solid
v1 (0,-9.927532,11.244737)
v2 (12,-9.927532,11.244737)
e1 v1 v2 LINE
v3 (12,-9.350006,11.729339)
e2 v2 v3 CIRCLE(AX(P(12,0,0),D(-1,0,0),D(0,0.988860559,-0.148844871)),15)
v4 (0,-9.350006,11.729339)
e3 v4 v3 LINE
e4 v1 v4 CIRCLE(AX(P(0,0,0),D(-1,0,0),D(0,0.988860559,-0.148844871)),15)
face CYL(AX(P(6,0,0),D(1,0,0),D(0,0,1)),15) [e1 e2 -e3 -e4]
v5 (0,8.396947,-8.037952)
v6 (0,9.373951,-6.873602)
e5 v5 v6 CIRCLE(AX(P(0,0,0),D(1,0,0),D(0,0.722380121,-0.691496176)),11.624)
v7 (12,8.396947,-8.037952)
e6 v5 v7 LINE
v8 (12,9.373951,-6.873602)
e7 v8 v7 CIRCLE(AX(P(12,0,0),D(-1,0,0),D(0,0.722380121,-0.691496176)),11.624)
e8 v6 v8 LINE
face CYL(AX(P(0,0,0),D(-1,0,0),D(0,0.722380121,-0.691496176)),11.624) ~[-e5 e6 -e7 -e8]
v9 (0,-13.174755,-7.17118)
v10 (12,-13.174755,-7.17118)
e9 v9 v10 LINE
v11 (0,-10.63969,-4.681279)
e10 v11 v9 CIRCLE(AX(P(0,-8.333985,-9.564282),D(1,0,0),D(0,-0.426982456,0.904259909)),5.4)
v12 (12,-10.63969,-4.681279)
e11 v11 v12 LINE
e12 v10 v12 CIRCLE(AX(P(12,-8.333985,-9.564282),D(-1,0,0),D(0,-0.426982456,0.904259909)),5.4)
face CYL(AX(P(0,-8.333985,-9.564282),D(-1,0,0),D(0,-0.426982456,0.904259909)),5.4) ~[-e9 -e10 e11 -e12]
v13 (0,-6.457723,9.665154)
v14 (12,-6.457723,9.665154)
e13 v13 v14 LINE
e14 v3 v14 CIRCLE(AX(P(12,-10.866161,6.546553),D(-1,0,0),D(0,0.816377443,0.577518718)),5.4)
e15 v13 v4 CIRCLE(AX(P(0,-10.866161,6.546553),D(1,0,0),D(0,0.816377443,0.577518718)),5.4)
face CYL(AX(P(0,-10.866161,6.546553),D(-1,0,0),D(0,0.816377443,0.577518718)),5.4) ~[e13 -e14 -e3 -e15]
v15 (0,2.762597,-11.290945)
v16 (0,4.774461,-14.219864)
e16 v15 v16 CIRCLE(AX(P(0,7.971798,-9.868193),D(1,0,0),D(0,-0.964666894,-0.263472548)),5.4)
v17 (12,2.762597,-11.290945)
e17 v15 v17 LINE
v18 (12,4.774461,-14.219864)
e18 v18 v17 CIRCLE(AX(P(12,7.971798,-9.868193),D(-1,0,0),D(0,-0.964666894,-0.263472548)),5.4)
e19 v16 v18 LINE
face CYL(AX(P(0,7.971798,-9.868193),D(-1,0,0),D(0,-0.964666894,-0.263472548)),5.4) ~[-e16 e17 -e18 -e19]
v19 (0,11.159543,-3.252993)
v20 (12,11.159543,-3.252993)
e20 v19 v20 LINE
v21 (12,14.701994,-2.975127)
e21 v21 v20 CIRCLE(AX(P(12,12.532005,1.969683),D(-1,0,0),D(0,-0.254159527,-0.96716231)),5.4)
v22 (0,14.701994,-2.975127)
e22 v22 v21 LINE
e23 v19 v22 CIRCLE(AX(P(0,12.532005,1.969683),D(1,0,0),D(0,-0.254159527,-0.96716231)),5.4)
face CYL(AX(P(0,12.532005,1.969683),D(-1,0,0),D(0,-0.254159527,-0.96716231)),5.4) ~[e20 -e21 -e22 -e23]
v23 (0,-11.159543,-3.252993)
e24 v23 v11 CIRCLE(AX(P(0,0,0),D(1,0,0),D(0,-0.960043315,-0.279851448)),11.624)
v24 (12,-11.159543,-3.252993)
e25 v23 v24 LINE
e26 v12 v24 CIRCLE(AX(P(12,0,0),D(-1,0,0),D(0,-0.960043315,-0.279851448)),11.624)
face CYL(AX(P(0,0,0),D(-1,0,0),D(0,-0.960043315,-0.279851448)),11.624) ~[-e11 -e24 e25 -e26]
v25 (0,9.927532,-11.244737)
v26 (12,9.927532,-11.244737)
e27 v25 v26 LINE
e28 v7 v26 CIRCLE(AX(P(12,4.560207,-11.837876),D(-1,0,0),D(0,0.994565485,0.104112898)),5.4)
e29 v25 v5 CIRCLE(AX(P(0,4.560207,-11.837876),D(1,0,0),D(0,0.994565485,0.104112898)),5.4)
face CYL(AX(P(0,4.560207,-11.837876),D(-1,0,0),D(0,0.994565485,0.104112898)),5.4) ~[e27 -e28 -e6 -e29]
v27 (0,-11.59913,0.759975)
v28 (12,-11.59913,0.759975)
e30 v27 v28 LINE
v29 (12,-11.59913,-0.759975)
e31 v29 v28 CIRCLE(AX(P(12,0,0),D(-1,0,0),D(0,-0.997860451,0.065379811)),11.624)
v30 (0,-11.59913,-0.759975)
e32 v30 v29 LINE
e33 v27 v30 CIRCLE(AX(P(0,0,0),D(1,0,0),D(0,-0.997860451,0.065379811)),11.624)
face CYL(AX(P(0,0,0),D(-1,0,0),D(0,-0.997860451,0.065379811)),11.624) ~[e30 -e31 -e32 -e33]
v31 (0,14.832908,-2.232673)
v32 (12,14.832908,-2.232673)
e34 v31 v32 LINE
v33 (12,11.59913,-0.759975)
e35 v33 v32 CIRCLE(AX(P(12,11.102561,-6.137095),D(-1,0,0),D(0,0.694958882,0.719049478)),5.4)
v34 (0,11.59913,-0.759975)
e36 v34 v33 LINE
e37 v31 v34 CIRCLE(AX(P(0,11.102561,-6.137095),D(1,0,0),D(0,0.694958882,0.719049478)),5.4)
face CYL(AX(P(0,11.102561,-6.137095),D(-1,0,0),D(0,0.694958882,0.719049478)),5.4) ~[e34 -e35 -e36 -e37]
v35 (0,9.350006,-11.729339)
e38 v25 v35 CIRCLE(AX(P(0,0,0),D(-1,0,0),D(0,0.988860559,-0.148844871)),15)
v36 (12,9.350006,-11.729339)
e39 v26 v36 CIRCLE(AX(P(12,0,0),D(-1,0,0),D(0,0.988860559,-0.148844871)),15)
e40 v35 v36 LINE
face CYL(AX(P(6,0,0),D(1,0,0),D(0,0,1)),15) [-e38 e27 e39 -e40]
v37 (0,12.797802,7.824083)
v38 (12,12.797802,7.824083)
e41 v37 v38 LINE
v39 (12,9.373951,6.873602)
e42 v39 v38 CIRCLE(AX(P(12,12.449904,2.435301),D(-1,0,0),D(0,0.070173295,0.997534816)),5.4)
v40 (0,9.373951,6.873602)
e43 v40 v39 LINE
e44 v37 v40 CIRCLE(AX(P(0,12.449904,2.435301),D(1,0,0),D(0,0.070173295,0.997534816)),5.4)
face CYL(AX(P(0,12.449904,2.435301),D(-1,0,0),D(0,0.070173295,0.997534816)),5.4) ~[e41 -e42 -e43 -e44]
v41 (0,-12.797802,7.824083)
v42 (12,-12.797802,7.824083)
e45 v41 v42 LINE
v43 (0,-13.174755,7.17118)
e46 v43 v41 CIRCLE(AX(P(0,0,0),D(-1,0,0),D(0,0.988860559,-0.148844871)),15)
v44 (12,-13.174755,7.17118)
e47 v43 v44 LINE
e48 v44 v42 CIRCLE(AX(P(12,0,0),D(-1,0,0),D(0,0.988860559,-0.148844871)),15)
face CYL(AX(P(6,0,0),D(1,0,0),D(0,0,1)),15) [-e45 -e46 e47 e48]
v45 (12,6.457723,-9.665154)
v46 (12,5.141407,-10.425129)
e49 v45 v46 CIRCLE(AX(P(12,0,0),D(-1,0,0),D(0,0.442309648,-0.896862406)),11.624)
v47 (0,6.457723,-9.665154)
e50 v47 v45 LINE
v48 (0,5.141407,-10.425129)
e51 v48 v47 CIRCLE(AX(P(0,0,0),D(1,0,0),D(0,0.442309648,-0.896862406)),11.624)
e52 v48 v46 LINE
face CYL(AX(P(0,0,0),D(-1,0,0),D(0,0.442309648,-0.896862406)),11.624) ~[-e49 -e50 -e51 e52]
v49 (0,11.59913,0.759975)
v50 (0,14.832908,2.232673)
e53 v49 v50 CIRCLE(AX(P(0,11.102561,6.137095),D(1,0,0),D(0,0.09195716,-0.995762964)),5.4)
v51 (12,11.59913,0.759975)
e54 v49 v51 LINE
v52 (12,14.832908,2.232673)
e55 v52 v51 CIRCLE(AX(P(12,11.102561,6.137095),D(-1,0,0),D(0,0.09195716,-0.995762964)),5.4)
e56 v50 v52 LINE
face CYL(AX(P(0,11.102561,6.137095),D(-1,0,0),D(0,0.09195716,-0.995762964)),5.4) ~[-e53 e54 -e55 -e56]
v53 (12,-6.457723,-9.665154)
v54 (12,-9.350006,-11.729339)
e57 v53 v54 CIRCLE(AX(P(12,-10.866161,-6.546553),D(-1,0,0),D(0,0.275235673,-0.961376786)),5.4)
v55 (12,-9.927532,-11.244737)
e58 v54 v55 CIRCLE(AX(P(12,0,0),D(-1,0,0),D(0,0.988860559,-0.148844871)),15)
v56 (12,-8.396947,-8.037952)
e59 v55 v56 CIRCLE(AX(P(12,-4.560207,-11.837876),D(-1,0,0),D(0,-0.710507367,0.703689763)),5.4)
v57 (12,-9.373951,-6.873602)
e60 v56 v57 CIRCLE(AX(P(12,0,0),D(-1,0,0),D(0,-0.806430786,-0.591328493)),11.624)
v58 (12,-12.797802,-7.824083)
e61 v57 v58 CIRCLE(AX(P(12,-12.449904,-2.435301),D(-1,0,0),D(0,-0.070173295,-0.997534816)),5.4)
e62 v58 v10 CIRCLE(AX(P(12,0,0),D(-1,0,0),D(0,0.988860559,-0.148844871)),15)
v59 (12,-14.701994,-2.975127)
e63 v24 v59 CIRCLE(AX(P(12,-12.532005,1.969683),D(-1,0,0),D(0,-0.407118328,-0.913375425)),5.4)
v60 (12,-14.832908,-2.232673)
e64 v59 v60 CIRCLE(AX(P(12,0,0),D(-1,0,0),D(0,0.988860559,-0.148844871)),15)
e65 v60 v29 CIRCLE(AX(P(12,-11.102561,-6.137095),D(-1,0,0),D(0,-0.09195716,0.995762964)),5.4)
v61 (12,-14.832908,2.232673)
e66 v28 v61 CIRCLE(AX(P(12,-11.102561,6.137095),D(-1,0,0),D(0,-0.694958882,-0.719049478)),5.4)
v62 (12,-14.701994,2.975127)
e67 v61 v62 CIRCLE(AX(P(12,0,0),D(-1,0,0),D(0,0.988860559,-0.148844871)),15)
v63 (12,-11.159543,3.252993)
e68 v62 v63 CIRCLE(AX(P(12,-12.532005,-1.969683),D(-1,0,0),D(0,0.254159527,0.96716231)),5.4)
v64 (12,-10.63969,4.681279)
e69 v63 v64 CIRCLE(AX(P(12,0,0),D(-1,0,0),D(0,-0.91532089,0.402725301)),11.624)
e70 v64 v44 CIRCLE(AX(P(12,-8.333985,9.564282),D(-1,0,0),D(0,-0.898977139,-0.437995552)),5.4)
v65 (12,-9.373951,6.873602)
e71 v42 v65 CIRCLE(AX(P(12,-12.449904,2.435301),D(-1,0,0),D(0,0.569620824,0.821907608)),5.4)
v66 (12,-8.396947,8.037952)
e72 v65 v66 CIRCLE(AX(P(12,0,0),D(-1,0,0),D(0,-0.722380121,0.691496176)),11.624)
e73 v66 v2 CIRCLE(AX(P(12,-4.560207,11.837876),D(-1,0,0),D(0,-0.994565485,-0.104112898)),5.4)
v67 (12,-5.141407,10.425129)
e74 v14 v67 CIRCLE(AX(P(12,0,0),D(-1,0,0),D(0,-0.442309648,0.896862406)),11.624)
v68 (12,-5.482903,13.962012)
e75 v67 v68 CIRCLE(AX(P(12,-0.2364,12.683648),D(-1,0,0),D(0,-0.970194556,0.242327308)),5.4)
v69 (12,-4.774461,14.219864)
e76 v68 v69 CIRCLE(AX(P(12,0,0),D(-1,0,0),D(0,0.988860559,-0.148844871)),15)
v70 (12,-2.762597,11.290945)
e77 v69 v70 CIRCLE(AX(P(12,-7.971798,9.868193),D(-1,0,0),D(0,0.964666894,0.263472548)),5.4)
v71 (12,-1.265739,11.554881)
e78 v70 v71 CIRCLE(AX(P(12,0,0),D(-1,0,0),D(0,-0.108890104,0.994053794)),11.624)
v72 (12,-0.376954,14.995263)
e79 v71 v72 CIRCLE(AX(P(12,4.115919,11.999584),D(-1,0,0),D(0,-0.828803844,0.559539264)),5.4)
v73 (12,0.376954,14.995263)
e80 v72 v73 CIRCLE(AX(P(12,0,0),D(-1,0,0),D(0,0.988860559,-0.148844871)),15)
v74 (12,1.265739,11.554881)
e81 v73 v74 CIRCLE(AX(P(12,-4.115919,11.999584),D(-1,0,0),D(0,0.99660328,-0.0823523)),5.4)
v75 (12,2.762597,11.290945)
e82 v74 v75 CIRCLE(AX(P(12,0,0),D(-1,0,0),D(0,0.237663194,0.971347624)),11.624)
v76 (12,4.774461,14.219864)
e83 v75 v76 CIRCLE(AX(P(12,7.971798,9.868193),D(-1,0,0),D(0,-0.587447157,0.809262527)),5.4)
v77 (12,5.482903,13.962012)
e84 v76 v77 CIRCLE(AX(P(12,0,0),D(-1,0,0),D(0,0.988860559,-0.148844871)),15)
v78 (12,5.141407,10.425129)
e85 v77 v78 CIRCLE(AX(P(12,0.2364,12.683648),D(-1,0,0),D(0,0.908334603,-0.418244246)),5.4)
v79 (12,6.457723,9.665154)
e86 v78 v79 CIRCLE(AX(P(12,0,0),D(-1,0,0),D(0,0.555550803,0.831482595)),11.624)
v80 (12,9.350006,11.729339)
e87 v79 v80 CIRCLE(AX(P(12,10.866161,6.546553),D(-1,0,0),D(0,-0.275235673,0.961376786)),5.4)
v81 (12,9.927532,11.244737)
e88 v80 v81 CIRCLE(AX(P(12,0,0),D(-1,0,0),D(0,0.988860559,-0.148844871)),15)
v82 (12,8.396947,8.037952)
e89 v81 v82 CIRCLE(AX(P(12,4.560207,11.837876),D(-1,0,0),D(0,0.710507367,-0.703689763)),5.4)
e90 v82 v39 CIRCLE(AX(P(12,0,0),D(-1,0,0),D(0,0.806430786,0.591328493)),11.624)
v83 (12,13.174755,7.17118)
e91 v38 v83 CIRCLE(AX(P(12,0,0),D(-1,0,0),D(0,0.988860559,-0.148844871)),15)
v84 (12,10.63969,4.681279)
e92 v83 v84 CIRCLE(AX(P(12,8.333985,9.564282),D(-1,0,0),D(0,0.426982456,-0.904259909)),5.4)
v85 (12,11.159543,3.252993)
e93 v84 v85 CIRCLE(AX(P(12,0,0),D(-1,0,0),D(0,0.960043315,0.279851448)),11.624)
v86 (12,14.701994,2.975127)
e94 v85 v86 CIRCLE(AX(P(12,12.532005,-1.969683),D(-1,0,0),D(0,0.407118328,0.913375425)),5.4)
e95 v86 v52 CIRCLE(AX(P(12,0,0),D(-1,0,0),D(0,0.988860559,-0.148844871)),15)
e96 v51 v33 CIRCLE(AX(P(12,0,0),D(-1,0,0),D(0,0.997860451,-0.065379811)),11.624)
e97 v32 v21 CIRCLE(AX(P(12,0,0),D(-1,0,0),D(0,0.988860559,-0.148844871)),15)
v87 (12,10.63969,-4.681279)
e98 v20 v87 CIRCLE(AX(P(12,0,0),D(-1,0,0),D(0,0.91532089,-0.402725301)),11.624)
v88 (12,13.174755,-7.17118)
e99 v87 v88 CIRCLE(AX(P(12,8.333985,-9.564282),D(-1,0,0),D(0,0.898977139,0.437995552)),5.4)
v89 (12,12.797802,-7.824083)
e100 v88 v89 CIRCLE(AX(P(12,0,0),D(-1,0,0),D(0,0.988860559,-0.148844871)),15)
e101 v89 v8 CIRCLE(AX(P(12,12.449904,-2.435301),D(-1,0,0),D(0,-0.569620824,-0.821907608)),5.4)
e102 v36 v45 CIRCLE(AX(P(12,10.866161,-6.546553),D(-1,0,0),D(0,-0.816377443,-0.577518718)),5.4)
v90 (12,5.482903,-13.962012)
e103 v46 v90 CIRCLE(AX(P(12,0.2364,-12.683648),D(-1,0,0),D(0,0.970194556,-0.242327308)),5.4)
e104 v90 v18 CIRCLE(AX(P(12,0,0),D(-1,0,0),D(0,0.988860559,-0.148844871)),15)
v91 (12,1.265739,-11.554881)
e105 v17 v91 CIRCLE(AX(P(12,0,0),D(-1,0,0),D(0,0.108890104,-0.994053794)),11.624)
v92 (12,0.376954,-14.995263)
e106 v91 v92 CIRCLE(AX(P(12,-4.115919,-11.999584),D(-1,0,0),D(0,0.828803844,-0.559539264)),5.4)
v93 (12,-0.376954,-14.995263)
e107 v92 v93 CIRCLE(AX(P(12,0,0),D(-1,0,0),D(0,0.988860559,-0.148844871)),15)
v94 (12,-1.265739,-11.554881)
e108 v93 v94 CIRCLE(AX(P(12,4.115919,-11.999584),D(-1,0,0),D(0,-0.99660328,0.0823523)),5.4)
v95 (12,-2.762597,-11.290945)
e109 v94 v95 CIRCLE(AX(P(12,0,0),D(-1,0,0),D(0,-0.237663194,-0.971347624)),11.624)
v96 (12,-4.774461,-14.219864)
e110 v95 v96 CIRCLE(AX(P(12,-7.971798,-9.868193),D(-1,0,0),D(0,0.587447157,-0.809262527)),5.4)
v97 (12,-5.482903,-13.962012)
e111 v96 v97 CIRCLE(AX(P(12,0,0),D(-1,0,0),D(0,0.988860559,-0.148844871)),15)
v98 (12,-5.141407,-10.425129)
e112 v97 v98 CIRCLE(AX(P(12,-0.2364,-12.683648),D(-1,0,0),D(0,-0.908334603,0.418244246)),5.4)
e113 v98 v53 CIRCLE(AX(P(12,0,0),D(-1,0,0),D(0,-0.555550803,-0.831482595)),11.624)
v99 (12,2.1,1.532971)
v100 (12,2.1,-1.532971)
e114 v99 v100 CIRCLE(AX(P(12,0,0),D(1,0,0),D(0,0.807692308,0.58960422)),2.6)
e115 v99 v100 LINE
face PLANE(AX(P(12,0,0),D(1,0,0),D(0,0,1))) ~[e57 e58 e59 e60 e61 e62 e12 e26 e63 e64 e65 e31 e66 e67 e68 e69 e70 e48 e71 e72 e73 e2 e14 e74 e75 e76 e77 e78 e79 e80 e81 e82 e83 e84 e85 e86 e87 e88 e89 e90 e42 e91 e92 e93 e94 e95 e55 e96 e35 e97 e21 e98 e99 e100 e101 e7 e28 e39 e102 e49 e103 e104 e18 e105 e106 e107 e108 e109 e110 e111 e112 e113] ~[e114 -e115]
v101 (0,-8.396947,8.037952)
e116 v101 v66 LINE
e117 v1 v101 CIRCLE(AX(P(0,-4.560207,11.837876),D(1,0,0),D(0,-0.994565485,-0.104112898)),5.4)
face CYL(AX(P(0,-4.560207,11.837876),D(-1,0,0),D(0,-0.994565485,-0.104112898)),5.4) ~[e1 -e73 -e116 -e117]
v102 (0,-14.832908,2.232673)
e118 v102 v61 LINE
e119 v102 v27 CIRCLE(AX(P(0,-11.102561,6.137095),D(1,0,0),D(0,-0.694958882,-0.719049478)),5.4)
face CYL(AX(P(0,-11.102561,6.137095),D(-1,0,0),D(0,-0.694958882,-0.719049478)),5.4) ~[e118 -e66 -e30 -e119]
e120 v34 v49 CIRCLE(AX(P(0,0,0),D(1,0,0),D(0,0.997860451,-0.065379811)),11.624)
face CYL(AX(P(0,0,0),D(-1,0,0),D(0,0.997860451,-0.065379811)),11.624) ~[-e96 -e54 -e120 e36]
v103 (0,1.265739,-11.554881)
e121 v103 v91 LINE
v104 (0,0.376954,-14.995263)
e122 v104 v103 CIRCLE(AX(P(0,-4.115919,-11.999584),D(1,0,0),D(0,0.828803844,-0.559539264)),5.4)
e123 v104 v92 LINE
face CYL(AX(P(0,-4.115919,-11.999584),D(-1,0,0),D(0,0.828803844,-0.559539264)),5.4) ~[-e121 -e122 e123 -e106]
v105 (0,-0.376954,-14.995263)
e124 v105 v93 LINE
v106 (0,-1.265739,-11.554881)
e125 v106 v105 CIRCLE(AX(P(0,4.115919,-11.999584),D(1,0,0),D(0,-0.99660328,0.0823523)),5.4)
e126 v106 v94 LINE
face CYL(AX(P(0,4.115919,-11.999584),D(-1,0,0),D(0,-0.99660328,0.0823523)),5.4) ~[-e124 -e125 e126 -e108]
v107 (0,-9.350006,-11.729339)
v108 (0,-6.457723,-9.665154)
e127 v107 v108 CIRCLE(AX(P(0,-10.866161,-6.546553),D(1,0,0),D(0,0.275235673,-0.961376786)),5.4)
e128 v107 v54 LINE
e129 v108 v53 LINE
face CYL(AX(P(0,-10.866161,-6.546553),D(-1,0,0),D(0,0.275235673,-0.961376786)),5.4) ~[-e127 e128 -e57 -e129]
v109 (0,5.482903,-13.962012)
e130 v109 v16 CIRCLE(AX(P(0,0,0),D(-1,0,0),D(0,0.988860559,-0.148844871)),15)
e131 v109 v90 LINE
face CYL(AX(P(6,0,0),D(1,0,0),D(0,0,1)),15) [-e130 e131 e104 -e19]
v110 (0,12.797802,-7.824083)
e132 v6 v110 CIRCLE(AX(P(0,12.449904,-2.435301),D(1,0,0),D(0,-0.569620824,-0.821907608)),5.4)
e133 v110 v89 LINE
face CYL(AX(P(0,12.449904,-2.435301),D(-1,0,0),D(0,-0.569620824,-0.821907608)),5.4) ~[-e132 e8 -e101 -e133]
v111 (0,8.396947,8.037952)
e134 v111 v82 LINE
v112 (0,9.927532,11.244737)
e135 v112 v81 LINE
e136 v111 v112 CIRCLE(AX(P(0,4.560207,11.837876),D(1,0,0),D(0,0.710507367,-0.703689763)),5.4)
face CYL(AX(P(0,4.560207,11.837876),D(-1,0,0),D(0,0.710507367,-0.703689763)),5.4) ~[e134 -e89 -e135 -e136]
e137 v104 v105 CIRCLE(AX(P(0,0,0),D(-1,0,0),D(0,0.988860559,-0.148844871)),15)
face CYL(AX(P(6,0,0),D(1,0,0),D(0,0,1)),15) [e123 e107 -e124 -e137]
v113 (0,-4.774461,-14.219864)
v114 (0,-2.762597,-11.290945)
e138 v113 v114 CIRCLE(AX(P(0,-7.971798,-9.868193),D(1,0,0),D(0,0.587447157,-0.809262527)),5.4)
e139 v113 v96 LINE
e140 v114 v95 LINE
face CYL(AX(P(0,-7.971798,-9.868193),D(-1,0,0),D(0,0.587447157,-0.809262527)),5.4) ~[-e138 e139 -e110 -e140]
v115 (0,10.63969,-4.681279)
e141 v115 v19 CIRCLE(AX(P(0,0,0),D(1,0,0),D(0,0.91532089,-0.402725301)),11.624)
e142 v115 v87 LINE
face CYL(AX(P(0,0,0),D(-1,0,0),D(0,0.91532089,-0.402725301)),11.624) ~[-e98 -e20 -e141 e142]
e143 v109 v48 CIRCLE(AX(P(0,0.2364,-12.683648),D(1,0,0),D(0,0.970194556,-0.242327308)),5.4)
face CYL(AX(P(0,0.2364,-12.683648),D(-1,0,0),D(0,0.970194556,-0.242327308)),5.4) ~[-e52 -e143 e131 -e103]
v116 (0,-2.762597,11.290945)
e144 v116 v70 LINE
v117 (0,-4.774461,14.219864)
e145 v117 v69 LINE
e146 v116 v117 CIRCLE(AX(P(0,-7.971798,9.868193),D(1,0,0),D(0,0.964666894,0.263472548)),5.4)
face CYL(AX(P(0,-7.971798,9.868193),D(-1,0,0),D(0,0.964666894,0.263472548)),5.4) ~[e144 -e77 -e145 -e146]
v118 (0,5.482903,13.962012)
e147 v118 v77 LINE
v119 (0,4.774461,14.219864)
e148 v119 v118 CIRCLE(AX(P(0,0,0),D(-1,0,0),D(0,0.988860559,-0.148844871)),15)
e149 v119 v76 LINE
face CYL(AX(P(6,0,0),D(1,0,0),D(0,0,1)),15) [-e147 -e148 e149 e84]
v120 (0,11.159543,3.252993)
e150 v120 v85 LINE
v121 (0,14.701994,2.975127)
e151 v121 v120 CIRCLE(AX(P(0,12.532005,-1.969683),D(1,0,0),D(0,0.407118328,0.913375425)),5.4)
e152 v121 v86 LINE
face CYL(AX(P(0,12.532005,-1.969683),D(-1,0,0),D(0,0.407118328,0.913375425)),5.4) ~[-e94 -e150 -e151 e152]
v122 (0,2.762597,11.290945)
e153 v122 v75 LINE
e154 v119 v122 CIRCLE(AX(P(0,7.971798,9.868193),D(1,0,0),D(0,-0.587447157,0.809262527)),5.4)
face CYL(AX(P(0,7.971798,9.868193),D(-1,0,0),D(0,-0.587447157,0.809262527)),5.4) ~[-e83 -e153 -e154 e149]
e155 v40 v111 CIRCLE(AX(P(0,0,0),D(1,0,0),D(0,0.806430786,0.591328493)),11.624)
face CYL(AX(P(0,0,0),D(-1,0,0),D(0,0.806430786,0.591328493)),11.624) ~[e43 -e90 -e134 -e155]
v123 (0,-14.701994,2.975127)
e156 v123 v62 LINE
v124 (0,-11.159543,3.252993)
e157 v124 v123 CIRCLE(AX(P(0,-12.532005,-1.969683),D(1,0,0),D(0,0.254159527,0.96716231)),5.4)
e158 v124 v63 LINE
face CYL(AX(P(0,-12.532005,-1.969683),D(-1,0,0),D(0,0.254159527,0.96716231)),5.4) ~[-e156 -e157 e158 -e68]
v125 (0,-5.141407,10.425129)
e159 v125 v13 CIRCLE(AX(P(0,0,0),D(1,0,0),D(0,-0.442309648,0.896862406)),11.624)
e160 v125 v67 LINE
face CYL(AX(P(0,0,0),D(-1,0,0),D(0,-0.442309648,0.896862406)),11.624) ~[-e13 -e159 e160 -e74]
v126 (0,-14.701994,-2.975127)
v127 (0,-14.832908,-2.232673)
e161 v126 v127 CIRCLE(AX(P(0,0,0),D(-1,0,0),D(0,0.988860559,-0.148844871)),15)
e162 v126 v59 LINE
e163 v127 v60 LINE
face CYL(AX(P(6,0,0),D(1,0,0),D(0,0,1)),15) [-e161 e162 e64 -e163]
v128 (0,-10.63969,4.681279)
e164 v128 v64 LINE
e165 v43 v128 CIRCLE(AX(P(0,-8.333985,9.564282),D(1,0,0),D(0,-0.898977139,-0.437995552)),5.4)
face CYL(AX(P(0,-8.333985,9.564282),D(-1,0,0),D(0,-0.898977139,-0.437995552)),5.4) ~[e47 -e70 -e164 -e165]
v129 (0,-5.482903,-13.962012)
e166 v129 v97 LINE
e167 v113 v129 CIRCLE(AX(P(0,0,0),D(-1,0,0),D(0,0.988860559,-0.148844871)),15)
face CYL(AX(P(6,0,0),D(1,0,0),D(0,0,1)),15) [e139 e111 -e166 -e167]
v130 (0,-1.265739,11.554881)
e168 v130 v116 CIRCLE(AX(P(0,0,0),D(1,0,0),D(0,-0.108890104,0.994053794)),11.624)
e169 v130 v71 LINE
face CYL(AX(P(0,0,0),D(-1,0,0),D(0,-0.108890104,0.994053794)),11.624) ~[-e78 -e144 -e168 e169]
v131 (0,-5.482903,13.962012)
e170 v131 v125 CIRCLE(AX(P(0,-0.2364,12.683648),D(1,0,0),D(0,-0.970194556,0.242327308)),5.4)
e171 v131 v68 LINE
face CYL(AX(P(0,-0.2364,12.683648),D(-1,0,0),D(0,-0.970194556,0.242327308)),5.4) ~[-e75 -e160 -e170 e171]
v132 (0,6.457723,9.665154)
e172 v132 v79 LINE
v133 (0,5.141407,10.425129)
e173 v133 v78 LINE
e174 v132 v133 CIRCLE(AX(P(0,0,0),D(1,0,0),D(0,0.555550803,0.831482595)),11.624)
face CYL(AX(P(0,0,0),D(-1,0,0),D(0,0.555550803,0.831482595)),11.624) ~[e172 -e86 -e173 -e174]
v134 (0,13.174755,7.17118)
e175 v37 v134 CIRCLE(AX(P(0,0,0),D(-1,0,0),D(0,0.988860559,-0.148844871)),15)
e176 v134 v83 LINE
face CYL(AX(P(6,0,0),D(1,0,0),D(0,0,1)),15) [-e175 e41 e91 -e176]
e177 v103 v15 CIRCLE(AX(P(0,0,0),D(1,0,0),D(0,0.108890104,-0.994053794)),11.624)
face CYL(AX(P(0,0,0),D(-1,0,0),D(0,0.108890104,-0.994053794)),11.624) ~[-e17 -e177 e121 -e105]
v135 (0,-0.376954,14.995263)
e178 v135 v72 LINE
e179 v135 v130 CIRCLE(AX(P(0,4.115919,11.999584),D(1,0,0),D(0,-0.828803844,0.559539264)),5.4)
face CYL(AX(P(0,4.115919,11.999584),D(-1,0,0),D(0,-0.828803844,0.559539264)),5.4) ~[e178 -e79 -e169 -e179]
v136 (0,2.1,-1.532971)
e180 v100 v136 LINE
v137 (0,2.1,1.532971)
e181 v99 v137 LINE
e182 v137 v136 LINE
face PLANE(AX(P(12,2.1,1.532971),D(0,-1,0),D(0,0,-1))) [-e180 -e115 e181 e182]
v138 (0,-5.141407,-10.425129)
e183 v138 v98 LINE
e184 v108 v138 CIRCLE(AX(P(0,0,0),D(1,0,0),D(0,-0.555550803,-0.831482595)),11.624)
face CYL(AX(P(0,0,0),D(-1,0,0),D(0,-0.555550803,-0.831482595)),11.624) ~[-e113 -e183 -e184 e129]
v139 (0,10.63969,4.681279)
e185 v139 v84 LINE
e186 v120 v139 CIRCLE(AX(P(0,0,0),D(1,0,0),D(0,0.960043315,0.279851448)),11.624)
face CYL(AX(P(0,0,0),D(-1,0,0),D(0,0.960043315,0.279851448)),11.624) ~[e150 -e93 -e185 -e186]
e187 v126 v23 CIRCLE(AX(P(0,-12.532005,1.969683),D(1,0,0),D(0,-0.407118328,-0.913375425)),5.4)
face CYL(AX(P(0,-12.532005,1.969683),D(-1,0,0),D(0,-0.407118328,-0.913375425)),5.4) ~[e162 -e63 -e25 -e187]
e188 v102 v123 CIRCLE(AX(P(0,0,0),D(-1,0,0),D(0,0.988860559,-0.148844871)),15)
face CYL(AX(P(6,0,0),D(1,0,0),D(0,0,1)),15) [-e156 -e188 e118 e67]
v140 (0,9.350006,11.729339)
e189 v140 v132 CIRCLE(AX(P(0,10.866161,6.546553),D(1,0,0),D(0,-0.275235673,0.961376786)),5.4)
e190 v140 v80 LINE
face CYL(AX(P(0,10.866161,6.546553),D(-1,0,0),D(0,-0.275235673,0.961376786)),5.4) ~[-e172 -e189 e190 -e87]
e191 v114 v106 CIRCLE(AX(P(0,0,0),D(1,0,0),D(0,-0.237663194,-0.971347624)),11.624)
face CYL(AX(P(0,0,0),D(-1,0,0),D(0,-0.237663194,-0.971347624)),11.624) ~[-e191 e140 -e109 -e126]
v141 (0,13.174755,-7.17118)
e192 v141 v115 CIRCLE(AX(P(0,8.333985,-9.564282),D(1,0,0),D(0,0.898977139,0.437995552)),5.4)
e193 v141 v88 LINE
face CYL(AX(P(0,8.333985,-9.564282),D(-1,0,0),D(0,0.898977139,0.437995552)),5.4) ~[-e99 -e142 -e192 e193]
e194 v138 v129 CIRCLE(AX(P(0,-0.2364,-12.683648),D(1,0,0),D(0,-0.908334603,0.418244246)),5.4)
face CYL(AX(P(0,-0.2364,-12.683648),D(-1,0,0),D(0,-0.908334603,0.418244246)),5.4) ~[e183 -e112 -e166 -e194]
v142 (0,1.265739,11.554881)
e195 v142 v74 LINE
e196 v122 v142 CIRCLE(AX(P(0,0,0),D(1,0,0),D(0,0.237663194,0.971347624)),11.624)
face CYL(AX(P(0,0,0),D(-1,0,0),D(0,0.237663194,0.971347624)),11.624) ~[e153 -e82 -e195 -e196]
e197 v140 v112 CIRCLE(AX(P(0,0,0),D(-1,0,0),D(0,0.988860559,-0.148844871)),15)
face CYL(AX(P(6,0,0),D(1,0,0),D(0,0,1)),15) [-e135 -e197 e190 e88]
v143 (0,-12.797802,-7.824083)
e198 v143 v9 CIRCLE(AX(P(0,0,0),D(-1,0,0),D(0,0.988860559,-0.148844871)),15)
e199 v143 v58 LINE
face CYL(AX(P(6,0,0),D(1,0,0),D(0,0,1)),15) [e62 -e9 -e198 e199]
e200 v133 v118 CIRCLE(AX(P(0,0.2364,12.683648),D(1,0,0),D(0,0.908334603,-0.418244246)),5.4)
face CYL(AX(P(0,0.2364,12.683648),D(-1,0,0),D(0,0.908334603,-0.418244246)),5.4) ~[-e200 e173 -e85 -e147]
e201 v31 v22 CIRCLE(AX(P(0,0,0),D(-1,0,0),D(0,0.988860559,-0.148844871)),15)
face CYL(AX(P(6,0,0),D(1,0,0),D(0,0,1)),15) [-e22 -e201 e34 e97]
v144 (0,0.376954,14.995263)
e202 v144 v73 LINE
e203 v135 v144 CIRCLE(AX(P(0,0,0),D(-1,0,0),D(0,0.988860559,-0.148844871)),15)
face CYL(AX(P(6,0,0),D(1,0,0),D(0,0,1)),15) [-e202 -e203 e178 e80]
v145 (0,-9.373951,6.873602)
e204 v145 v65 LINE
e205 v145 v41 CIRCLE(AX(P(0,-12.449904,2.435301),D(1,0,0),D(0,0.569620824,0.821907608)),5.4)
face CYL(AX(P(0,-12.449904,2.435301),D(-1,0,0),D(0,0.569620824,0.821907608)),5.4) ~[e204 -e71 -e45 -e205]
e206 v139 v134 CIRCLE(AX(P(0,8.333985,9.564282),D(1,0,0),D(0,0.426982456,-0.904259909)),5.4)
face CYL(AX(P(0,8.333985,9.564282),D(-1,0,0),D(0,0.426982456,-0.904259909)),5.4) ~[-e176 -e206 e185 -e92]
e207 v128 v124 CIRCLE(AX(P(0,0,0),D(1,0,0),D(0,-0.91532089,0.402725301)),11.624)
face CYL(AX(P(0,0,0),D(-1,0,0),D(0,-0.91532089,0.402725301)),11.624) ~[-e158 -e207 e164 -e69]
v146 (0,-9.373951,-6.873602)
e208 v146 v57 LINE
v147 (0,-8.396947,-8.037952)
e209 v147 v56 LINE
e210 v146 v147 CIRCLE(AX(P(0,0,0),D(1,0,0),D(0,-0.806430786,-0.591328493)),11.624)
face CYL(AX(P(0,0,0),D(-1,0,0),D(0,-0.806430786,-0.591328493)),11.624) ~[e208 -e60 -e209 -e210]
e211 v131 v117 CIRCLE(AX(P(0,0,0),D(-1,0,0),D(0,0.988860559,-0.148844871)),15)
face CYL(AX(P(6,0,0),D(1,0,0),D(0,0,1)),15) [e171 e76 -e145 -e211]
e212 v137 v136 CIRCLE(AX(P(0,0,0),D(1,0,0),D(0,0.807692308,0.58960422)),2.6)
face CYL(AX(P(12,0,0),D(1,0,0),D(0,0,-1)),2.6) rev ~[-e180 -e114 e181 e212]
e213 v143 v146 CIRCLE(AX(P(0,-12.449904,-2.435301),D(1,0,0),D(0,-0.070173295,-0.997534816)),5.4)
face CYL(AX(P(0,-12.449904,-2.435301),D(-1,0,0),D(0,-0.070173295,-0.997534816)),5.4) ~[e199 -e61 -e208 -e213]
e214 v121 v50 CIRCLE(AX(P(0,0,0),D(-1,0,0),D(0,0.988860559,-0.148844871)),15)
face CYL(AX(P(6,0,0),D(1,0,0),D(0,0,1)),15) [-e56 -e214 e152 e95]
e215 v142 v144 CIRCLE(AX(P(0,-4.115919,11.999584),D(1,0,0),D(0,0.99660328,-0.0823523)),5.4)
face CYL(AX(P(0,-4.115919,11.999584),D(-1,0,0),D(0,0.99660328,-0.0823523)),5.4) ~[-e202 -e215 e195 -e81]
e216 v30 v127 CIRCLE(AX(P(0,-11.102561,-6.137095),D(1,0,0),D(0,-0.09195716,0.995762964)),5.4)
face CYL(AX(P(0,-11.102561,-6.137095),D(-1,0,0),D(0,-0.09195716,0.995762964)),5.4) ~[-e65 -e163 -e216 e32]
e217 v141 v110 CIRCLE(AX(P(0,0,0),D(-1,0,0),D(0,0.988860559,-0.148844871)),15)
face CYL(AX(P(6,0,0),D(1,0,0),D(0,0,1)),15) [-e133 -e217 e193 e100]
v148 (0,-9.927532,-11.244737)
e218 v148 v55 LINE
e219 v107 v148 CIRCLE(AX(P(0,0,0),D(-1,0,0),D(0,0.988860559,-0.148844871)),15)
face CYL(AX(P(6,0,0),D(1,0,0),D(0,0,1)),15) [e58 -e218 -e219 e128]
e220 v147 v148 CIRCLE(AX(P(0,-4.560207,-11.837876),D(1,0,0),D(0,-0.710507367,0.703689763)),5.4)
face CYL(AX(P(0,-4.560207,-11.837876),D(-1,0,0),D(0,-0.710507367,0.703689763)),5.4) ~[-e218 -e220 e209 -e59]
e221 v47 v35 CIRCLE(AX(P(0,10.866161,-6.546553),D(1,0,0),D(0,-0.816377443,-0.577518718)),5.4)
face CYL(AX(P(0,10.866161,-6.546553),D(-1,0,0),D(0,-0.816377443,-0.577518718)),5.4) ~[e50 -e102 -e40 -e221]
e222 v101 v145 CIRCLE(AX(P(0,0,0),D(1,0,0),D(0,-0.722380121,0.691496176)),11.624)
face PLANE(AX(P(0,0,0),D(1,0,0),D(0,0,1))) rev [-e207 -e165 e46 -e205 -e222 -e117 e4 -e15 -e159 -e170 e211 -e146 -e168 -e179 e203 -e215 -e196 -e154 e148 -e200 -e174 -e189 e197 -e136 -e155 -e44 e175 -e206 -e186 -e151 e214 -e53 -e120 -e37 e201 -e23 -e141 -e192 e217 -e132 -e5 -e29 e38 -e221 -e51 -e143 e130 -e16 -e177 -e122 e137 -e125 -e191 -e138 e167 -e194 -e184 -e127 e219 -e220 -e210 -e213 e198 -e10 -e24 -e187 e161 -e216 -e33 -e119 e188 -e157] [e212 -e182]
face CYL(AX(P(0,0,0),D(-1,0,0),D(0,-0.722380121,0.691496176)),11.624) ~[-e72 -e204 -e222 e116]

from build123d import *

# Parameters (mm, degrees)
BASPROSKE_W         = 12
BASPROSKE_H         = 15
TOOTHCUT_DEPTH      = 25.372115214
TEETHCUTS_COUNT     = 18
TEETHCUTS_ANGLE     = 340
BORSKE_R            = 2.5
BORE_DEPTH          = 50.0000508
SKETCH_1_R          = 2.6
CUT_EXTRUDE_1_DEPTH = 25.269634752
EXTRUDE_2_DEPTH     = 12


with BuildPart() as part:
    # BasProSke → Base-Revolve (revolve)
    with BuildSketch(Plane(origin=(0, 0, 0), x_dir=(1, 0, 0), z_dir=(0, 1, 0)), mode=Mode.PRIVATE) as base_revolve_sk:
        with Locations((6, 7.5)):
            Rectangle(BASPROSKE_W, BASPROSKE_H)
    revolve(base_revolve_sk.sketch.rotate(Axis((-10, 0, 0), (1, 0, 0)), 180), axis=Axis((-10, 0, 0), (1, 0, 0)))

    # TooCutSke → ToothCut (cut, through all)
    with BuildSketch(Plane(origin=(0, 0, 0), x_dir=(0, 0, -1), z_dir=(1, 0, 0))):
        with BuildLine():
            ThreePointArc((0.759974923, 11.599129886), (0, 11.624), (-0.759974923, 11.599129886))
            ThreePointArc((-0.759974923, 11.599129886), (-1.229186471, 13.354767823), (-2.254227748, 14.855339189))
            ThreePointArc((-2.254227748, 14.855339189), (0, 15.0254), (2.254227748, 14.855339189))
            ThreePointArc((2.254227748, 14.855339189), (1.229186471, 13.354767823), (0.759974923, 11.599129886))
        make_face()
    toothcut = extrude(amount=TOOTHCUT_DEPTH, mode=Mode.SUBTRACT)

    # TeethCuts: ToothCut ×18 about axis
    teethcuts_axis = Axis((-10, 0, 0), (1, 0, 0))
    for i in range(1, TEETHCUTS_COUNT):
        add(toothcut.rotate(teethcuts_axis, i * TEETHCUTS_ANGLE / (TEETHCUTS_COUNT - 1)), mode=Mode.SUBTRACT)

    # BorSke → Bore (cut, symmetric)
    with BuildSketch(Plane(origin=(0, 0, 0), x_dir=(0, 0, -1), z_dir=(1, 0, 0))):
        with Locations(Location((0, 0, 0), (0, 0, 180))):
            Circle(BORSKE_R)
    extrude(amount=BORE_DEPTH, both=True, mode=Mode.SUBTRACT)

    # 草圖1 → 除料-伸長1 (cut, through all)
    with BuildSketch(Plane(origin=(12, 0, 0), x_dir=(0, 0, -1), z_dir=(1, 0, 0))):
        Circle(SKETCH_1_R)
    extrude(amount=-CUT_EXTRUDE_1_DEPTH, mode=Mode.SUBTRACT)

    # 草圖2 → 填料-伸長2 (add, through all)
    with BuildSketch(Plane(origin=(12, 0, 0), x_dir=(0, 0, -1), z_dir=(1, 0, 0))):
        with BuildLine():
            Line((0, 2.1), (1.532970972, 2.1))
            ThreePointArc((1.532970972, 2.1), (0, 2.6), (-1.532970972, 2.1))
            Line((-1.532970972, 2.1), (0, 2.1))
        make_face()
    extrude(amount=-EXTRUDE_2_DEPTH)


solid = part.part
